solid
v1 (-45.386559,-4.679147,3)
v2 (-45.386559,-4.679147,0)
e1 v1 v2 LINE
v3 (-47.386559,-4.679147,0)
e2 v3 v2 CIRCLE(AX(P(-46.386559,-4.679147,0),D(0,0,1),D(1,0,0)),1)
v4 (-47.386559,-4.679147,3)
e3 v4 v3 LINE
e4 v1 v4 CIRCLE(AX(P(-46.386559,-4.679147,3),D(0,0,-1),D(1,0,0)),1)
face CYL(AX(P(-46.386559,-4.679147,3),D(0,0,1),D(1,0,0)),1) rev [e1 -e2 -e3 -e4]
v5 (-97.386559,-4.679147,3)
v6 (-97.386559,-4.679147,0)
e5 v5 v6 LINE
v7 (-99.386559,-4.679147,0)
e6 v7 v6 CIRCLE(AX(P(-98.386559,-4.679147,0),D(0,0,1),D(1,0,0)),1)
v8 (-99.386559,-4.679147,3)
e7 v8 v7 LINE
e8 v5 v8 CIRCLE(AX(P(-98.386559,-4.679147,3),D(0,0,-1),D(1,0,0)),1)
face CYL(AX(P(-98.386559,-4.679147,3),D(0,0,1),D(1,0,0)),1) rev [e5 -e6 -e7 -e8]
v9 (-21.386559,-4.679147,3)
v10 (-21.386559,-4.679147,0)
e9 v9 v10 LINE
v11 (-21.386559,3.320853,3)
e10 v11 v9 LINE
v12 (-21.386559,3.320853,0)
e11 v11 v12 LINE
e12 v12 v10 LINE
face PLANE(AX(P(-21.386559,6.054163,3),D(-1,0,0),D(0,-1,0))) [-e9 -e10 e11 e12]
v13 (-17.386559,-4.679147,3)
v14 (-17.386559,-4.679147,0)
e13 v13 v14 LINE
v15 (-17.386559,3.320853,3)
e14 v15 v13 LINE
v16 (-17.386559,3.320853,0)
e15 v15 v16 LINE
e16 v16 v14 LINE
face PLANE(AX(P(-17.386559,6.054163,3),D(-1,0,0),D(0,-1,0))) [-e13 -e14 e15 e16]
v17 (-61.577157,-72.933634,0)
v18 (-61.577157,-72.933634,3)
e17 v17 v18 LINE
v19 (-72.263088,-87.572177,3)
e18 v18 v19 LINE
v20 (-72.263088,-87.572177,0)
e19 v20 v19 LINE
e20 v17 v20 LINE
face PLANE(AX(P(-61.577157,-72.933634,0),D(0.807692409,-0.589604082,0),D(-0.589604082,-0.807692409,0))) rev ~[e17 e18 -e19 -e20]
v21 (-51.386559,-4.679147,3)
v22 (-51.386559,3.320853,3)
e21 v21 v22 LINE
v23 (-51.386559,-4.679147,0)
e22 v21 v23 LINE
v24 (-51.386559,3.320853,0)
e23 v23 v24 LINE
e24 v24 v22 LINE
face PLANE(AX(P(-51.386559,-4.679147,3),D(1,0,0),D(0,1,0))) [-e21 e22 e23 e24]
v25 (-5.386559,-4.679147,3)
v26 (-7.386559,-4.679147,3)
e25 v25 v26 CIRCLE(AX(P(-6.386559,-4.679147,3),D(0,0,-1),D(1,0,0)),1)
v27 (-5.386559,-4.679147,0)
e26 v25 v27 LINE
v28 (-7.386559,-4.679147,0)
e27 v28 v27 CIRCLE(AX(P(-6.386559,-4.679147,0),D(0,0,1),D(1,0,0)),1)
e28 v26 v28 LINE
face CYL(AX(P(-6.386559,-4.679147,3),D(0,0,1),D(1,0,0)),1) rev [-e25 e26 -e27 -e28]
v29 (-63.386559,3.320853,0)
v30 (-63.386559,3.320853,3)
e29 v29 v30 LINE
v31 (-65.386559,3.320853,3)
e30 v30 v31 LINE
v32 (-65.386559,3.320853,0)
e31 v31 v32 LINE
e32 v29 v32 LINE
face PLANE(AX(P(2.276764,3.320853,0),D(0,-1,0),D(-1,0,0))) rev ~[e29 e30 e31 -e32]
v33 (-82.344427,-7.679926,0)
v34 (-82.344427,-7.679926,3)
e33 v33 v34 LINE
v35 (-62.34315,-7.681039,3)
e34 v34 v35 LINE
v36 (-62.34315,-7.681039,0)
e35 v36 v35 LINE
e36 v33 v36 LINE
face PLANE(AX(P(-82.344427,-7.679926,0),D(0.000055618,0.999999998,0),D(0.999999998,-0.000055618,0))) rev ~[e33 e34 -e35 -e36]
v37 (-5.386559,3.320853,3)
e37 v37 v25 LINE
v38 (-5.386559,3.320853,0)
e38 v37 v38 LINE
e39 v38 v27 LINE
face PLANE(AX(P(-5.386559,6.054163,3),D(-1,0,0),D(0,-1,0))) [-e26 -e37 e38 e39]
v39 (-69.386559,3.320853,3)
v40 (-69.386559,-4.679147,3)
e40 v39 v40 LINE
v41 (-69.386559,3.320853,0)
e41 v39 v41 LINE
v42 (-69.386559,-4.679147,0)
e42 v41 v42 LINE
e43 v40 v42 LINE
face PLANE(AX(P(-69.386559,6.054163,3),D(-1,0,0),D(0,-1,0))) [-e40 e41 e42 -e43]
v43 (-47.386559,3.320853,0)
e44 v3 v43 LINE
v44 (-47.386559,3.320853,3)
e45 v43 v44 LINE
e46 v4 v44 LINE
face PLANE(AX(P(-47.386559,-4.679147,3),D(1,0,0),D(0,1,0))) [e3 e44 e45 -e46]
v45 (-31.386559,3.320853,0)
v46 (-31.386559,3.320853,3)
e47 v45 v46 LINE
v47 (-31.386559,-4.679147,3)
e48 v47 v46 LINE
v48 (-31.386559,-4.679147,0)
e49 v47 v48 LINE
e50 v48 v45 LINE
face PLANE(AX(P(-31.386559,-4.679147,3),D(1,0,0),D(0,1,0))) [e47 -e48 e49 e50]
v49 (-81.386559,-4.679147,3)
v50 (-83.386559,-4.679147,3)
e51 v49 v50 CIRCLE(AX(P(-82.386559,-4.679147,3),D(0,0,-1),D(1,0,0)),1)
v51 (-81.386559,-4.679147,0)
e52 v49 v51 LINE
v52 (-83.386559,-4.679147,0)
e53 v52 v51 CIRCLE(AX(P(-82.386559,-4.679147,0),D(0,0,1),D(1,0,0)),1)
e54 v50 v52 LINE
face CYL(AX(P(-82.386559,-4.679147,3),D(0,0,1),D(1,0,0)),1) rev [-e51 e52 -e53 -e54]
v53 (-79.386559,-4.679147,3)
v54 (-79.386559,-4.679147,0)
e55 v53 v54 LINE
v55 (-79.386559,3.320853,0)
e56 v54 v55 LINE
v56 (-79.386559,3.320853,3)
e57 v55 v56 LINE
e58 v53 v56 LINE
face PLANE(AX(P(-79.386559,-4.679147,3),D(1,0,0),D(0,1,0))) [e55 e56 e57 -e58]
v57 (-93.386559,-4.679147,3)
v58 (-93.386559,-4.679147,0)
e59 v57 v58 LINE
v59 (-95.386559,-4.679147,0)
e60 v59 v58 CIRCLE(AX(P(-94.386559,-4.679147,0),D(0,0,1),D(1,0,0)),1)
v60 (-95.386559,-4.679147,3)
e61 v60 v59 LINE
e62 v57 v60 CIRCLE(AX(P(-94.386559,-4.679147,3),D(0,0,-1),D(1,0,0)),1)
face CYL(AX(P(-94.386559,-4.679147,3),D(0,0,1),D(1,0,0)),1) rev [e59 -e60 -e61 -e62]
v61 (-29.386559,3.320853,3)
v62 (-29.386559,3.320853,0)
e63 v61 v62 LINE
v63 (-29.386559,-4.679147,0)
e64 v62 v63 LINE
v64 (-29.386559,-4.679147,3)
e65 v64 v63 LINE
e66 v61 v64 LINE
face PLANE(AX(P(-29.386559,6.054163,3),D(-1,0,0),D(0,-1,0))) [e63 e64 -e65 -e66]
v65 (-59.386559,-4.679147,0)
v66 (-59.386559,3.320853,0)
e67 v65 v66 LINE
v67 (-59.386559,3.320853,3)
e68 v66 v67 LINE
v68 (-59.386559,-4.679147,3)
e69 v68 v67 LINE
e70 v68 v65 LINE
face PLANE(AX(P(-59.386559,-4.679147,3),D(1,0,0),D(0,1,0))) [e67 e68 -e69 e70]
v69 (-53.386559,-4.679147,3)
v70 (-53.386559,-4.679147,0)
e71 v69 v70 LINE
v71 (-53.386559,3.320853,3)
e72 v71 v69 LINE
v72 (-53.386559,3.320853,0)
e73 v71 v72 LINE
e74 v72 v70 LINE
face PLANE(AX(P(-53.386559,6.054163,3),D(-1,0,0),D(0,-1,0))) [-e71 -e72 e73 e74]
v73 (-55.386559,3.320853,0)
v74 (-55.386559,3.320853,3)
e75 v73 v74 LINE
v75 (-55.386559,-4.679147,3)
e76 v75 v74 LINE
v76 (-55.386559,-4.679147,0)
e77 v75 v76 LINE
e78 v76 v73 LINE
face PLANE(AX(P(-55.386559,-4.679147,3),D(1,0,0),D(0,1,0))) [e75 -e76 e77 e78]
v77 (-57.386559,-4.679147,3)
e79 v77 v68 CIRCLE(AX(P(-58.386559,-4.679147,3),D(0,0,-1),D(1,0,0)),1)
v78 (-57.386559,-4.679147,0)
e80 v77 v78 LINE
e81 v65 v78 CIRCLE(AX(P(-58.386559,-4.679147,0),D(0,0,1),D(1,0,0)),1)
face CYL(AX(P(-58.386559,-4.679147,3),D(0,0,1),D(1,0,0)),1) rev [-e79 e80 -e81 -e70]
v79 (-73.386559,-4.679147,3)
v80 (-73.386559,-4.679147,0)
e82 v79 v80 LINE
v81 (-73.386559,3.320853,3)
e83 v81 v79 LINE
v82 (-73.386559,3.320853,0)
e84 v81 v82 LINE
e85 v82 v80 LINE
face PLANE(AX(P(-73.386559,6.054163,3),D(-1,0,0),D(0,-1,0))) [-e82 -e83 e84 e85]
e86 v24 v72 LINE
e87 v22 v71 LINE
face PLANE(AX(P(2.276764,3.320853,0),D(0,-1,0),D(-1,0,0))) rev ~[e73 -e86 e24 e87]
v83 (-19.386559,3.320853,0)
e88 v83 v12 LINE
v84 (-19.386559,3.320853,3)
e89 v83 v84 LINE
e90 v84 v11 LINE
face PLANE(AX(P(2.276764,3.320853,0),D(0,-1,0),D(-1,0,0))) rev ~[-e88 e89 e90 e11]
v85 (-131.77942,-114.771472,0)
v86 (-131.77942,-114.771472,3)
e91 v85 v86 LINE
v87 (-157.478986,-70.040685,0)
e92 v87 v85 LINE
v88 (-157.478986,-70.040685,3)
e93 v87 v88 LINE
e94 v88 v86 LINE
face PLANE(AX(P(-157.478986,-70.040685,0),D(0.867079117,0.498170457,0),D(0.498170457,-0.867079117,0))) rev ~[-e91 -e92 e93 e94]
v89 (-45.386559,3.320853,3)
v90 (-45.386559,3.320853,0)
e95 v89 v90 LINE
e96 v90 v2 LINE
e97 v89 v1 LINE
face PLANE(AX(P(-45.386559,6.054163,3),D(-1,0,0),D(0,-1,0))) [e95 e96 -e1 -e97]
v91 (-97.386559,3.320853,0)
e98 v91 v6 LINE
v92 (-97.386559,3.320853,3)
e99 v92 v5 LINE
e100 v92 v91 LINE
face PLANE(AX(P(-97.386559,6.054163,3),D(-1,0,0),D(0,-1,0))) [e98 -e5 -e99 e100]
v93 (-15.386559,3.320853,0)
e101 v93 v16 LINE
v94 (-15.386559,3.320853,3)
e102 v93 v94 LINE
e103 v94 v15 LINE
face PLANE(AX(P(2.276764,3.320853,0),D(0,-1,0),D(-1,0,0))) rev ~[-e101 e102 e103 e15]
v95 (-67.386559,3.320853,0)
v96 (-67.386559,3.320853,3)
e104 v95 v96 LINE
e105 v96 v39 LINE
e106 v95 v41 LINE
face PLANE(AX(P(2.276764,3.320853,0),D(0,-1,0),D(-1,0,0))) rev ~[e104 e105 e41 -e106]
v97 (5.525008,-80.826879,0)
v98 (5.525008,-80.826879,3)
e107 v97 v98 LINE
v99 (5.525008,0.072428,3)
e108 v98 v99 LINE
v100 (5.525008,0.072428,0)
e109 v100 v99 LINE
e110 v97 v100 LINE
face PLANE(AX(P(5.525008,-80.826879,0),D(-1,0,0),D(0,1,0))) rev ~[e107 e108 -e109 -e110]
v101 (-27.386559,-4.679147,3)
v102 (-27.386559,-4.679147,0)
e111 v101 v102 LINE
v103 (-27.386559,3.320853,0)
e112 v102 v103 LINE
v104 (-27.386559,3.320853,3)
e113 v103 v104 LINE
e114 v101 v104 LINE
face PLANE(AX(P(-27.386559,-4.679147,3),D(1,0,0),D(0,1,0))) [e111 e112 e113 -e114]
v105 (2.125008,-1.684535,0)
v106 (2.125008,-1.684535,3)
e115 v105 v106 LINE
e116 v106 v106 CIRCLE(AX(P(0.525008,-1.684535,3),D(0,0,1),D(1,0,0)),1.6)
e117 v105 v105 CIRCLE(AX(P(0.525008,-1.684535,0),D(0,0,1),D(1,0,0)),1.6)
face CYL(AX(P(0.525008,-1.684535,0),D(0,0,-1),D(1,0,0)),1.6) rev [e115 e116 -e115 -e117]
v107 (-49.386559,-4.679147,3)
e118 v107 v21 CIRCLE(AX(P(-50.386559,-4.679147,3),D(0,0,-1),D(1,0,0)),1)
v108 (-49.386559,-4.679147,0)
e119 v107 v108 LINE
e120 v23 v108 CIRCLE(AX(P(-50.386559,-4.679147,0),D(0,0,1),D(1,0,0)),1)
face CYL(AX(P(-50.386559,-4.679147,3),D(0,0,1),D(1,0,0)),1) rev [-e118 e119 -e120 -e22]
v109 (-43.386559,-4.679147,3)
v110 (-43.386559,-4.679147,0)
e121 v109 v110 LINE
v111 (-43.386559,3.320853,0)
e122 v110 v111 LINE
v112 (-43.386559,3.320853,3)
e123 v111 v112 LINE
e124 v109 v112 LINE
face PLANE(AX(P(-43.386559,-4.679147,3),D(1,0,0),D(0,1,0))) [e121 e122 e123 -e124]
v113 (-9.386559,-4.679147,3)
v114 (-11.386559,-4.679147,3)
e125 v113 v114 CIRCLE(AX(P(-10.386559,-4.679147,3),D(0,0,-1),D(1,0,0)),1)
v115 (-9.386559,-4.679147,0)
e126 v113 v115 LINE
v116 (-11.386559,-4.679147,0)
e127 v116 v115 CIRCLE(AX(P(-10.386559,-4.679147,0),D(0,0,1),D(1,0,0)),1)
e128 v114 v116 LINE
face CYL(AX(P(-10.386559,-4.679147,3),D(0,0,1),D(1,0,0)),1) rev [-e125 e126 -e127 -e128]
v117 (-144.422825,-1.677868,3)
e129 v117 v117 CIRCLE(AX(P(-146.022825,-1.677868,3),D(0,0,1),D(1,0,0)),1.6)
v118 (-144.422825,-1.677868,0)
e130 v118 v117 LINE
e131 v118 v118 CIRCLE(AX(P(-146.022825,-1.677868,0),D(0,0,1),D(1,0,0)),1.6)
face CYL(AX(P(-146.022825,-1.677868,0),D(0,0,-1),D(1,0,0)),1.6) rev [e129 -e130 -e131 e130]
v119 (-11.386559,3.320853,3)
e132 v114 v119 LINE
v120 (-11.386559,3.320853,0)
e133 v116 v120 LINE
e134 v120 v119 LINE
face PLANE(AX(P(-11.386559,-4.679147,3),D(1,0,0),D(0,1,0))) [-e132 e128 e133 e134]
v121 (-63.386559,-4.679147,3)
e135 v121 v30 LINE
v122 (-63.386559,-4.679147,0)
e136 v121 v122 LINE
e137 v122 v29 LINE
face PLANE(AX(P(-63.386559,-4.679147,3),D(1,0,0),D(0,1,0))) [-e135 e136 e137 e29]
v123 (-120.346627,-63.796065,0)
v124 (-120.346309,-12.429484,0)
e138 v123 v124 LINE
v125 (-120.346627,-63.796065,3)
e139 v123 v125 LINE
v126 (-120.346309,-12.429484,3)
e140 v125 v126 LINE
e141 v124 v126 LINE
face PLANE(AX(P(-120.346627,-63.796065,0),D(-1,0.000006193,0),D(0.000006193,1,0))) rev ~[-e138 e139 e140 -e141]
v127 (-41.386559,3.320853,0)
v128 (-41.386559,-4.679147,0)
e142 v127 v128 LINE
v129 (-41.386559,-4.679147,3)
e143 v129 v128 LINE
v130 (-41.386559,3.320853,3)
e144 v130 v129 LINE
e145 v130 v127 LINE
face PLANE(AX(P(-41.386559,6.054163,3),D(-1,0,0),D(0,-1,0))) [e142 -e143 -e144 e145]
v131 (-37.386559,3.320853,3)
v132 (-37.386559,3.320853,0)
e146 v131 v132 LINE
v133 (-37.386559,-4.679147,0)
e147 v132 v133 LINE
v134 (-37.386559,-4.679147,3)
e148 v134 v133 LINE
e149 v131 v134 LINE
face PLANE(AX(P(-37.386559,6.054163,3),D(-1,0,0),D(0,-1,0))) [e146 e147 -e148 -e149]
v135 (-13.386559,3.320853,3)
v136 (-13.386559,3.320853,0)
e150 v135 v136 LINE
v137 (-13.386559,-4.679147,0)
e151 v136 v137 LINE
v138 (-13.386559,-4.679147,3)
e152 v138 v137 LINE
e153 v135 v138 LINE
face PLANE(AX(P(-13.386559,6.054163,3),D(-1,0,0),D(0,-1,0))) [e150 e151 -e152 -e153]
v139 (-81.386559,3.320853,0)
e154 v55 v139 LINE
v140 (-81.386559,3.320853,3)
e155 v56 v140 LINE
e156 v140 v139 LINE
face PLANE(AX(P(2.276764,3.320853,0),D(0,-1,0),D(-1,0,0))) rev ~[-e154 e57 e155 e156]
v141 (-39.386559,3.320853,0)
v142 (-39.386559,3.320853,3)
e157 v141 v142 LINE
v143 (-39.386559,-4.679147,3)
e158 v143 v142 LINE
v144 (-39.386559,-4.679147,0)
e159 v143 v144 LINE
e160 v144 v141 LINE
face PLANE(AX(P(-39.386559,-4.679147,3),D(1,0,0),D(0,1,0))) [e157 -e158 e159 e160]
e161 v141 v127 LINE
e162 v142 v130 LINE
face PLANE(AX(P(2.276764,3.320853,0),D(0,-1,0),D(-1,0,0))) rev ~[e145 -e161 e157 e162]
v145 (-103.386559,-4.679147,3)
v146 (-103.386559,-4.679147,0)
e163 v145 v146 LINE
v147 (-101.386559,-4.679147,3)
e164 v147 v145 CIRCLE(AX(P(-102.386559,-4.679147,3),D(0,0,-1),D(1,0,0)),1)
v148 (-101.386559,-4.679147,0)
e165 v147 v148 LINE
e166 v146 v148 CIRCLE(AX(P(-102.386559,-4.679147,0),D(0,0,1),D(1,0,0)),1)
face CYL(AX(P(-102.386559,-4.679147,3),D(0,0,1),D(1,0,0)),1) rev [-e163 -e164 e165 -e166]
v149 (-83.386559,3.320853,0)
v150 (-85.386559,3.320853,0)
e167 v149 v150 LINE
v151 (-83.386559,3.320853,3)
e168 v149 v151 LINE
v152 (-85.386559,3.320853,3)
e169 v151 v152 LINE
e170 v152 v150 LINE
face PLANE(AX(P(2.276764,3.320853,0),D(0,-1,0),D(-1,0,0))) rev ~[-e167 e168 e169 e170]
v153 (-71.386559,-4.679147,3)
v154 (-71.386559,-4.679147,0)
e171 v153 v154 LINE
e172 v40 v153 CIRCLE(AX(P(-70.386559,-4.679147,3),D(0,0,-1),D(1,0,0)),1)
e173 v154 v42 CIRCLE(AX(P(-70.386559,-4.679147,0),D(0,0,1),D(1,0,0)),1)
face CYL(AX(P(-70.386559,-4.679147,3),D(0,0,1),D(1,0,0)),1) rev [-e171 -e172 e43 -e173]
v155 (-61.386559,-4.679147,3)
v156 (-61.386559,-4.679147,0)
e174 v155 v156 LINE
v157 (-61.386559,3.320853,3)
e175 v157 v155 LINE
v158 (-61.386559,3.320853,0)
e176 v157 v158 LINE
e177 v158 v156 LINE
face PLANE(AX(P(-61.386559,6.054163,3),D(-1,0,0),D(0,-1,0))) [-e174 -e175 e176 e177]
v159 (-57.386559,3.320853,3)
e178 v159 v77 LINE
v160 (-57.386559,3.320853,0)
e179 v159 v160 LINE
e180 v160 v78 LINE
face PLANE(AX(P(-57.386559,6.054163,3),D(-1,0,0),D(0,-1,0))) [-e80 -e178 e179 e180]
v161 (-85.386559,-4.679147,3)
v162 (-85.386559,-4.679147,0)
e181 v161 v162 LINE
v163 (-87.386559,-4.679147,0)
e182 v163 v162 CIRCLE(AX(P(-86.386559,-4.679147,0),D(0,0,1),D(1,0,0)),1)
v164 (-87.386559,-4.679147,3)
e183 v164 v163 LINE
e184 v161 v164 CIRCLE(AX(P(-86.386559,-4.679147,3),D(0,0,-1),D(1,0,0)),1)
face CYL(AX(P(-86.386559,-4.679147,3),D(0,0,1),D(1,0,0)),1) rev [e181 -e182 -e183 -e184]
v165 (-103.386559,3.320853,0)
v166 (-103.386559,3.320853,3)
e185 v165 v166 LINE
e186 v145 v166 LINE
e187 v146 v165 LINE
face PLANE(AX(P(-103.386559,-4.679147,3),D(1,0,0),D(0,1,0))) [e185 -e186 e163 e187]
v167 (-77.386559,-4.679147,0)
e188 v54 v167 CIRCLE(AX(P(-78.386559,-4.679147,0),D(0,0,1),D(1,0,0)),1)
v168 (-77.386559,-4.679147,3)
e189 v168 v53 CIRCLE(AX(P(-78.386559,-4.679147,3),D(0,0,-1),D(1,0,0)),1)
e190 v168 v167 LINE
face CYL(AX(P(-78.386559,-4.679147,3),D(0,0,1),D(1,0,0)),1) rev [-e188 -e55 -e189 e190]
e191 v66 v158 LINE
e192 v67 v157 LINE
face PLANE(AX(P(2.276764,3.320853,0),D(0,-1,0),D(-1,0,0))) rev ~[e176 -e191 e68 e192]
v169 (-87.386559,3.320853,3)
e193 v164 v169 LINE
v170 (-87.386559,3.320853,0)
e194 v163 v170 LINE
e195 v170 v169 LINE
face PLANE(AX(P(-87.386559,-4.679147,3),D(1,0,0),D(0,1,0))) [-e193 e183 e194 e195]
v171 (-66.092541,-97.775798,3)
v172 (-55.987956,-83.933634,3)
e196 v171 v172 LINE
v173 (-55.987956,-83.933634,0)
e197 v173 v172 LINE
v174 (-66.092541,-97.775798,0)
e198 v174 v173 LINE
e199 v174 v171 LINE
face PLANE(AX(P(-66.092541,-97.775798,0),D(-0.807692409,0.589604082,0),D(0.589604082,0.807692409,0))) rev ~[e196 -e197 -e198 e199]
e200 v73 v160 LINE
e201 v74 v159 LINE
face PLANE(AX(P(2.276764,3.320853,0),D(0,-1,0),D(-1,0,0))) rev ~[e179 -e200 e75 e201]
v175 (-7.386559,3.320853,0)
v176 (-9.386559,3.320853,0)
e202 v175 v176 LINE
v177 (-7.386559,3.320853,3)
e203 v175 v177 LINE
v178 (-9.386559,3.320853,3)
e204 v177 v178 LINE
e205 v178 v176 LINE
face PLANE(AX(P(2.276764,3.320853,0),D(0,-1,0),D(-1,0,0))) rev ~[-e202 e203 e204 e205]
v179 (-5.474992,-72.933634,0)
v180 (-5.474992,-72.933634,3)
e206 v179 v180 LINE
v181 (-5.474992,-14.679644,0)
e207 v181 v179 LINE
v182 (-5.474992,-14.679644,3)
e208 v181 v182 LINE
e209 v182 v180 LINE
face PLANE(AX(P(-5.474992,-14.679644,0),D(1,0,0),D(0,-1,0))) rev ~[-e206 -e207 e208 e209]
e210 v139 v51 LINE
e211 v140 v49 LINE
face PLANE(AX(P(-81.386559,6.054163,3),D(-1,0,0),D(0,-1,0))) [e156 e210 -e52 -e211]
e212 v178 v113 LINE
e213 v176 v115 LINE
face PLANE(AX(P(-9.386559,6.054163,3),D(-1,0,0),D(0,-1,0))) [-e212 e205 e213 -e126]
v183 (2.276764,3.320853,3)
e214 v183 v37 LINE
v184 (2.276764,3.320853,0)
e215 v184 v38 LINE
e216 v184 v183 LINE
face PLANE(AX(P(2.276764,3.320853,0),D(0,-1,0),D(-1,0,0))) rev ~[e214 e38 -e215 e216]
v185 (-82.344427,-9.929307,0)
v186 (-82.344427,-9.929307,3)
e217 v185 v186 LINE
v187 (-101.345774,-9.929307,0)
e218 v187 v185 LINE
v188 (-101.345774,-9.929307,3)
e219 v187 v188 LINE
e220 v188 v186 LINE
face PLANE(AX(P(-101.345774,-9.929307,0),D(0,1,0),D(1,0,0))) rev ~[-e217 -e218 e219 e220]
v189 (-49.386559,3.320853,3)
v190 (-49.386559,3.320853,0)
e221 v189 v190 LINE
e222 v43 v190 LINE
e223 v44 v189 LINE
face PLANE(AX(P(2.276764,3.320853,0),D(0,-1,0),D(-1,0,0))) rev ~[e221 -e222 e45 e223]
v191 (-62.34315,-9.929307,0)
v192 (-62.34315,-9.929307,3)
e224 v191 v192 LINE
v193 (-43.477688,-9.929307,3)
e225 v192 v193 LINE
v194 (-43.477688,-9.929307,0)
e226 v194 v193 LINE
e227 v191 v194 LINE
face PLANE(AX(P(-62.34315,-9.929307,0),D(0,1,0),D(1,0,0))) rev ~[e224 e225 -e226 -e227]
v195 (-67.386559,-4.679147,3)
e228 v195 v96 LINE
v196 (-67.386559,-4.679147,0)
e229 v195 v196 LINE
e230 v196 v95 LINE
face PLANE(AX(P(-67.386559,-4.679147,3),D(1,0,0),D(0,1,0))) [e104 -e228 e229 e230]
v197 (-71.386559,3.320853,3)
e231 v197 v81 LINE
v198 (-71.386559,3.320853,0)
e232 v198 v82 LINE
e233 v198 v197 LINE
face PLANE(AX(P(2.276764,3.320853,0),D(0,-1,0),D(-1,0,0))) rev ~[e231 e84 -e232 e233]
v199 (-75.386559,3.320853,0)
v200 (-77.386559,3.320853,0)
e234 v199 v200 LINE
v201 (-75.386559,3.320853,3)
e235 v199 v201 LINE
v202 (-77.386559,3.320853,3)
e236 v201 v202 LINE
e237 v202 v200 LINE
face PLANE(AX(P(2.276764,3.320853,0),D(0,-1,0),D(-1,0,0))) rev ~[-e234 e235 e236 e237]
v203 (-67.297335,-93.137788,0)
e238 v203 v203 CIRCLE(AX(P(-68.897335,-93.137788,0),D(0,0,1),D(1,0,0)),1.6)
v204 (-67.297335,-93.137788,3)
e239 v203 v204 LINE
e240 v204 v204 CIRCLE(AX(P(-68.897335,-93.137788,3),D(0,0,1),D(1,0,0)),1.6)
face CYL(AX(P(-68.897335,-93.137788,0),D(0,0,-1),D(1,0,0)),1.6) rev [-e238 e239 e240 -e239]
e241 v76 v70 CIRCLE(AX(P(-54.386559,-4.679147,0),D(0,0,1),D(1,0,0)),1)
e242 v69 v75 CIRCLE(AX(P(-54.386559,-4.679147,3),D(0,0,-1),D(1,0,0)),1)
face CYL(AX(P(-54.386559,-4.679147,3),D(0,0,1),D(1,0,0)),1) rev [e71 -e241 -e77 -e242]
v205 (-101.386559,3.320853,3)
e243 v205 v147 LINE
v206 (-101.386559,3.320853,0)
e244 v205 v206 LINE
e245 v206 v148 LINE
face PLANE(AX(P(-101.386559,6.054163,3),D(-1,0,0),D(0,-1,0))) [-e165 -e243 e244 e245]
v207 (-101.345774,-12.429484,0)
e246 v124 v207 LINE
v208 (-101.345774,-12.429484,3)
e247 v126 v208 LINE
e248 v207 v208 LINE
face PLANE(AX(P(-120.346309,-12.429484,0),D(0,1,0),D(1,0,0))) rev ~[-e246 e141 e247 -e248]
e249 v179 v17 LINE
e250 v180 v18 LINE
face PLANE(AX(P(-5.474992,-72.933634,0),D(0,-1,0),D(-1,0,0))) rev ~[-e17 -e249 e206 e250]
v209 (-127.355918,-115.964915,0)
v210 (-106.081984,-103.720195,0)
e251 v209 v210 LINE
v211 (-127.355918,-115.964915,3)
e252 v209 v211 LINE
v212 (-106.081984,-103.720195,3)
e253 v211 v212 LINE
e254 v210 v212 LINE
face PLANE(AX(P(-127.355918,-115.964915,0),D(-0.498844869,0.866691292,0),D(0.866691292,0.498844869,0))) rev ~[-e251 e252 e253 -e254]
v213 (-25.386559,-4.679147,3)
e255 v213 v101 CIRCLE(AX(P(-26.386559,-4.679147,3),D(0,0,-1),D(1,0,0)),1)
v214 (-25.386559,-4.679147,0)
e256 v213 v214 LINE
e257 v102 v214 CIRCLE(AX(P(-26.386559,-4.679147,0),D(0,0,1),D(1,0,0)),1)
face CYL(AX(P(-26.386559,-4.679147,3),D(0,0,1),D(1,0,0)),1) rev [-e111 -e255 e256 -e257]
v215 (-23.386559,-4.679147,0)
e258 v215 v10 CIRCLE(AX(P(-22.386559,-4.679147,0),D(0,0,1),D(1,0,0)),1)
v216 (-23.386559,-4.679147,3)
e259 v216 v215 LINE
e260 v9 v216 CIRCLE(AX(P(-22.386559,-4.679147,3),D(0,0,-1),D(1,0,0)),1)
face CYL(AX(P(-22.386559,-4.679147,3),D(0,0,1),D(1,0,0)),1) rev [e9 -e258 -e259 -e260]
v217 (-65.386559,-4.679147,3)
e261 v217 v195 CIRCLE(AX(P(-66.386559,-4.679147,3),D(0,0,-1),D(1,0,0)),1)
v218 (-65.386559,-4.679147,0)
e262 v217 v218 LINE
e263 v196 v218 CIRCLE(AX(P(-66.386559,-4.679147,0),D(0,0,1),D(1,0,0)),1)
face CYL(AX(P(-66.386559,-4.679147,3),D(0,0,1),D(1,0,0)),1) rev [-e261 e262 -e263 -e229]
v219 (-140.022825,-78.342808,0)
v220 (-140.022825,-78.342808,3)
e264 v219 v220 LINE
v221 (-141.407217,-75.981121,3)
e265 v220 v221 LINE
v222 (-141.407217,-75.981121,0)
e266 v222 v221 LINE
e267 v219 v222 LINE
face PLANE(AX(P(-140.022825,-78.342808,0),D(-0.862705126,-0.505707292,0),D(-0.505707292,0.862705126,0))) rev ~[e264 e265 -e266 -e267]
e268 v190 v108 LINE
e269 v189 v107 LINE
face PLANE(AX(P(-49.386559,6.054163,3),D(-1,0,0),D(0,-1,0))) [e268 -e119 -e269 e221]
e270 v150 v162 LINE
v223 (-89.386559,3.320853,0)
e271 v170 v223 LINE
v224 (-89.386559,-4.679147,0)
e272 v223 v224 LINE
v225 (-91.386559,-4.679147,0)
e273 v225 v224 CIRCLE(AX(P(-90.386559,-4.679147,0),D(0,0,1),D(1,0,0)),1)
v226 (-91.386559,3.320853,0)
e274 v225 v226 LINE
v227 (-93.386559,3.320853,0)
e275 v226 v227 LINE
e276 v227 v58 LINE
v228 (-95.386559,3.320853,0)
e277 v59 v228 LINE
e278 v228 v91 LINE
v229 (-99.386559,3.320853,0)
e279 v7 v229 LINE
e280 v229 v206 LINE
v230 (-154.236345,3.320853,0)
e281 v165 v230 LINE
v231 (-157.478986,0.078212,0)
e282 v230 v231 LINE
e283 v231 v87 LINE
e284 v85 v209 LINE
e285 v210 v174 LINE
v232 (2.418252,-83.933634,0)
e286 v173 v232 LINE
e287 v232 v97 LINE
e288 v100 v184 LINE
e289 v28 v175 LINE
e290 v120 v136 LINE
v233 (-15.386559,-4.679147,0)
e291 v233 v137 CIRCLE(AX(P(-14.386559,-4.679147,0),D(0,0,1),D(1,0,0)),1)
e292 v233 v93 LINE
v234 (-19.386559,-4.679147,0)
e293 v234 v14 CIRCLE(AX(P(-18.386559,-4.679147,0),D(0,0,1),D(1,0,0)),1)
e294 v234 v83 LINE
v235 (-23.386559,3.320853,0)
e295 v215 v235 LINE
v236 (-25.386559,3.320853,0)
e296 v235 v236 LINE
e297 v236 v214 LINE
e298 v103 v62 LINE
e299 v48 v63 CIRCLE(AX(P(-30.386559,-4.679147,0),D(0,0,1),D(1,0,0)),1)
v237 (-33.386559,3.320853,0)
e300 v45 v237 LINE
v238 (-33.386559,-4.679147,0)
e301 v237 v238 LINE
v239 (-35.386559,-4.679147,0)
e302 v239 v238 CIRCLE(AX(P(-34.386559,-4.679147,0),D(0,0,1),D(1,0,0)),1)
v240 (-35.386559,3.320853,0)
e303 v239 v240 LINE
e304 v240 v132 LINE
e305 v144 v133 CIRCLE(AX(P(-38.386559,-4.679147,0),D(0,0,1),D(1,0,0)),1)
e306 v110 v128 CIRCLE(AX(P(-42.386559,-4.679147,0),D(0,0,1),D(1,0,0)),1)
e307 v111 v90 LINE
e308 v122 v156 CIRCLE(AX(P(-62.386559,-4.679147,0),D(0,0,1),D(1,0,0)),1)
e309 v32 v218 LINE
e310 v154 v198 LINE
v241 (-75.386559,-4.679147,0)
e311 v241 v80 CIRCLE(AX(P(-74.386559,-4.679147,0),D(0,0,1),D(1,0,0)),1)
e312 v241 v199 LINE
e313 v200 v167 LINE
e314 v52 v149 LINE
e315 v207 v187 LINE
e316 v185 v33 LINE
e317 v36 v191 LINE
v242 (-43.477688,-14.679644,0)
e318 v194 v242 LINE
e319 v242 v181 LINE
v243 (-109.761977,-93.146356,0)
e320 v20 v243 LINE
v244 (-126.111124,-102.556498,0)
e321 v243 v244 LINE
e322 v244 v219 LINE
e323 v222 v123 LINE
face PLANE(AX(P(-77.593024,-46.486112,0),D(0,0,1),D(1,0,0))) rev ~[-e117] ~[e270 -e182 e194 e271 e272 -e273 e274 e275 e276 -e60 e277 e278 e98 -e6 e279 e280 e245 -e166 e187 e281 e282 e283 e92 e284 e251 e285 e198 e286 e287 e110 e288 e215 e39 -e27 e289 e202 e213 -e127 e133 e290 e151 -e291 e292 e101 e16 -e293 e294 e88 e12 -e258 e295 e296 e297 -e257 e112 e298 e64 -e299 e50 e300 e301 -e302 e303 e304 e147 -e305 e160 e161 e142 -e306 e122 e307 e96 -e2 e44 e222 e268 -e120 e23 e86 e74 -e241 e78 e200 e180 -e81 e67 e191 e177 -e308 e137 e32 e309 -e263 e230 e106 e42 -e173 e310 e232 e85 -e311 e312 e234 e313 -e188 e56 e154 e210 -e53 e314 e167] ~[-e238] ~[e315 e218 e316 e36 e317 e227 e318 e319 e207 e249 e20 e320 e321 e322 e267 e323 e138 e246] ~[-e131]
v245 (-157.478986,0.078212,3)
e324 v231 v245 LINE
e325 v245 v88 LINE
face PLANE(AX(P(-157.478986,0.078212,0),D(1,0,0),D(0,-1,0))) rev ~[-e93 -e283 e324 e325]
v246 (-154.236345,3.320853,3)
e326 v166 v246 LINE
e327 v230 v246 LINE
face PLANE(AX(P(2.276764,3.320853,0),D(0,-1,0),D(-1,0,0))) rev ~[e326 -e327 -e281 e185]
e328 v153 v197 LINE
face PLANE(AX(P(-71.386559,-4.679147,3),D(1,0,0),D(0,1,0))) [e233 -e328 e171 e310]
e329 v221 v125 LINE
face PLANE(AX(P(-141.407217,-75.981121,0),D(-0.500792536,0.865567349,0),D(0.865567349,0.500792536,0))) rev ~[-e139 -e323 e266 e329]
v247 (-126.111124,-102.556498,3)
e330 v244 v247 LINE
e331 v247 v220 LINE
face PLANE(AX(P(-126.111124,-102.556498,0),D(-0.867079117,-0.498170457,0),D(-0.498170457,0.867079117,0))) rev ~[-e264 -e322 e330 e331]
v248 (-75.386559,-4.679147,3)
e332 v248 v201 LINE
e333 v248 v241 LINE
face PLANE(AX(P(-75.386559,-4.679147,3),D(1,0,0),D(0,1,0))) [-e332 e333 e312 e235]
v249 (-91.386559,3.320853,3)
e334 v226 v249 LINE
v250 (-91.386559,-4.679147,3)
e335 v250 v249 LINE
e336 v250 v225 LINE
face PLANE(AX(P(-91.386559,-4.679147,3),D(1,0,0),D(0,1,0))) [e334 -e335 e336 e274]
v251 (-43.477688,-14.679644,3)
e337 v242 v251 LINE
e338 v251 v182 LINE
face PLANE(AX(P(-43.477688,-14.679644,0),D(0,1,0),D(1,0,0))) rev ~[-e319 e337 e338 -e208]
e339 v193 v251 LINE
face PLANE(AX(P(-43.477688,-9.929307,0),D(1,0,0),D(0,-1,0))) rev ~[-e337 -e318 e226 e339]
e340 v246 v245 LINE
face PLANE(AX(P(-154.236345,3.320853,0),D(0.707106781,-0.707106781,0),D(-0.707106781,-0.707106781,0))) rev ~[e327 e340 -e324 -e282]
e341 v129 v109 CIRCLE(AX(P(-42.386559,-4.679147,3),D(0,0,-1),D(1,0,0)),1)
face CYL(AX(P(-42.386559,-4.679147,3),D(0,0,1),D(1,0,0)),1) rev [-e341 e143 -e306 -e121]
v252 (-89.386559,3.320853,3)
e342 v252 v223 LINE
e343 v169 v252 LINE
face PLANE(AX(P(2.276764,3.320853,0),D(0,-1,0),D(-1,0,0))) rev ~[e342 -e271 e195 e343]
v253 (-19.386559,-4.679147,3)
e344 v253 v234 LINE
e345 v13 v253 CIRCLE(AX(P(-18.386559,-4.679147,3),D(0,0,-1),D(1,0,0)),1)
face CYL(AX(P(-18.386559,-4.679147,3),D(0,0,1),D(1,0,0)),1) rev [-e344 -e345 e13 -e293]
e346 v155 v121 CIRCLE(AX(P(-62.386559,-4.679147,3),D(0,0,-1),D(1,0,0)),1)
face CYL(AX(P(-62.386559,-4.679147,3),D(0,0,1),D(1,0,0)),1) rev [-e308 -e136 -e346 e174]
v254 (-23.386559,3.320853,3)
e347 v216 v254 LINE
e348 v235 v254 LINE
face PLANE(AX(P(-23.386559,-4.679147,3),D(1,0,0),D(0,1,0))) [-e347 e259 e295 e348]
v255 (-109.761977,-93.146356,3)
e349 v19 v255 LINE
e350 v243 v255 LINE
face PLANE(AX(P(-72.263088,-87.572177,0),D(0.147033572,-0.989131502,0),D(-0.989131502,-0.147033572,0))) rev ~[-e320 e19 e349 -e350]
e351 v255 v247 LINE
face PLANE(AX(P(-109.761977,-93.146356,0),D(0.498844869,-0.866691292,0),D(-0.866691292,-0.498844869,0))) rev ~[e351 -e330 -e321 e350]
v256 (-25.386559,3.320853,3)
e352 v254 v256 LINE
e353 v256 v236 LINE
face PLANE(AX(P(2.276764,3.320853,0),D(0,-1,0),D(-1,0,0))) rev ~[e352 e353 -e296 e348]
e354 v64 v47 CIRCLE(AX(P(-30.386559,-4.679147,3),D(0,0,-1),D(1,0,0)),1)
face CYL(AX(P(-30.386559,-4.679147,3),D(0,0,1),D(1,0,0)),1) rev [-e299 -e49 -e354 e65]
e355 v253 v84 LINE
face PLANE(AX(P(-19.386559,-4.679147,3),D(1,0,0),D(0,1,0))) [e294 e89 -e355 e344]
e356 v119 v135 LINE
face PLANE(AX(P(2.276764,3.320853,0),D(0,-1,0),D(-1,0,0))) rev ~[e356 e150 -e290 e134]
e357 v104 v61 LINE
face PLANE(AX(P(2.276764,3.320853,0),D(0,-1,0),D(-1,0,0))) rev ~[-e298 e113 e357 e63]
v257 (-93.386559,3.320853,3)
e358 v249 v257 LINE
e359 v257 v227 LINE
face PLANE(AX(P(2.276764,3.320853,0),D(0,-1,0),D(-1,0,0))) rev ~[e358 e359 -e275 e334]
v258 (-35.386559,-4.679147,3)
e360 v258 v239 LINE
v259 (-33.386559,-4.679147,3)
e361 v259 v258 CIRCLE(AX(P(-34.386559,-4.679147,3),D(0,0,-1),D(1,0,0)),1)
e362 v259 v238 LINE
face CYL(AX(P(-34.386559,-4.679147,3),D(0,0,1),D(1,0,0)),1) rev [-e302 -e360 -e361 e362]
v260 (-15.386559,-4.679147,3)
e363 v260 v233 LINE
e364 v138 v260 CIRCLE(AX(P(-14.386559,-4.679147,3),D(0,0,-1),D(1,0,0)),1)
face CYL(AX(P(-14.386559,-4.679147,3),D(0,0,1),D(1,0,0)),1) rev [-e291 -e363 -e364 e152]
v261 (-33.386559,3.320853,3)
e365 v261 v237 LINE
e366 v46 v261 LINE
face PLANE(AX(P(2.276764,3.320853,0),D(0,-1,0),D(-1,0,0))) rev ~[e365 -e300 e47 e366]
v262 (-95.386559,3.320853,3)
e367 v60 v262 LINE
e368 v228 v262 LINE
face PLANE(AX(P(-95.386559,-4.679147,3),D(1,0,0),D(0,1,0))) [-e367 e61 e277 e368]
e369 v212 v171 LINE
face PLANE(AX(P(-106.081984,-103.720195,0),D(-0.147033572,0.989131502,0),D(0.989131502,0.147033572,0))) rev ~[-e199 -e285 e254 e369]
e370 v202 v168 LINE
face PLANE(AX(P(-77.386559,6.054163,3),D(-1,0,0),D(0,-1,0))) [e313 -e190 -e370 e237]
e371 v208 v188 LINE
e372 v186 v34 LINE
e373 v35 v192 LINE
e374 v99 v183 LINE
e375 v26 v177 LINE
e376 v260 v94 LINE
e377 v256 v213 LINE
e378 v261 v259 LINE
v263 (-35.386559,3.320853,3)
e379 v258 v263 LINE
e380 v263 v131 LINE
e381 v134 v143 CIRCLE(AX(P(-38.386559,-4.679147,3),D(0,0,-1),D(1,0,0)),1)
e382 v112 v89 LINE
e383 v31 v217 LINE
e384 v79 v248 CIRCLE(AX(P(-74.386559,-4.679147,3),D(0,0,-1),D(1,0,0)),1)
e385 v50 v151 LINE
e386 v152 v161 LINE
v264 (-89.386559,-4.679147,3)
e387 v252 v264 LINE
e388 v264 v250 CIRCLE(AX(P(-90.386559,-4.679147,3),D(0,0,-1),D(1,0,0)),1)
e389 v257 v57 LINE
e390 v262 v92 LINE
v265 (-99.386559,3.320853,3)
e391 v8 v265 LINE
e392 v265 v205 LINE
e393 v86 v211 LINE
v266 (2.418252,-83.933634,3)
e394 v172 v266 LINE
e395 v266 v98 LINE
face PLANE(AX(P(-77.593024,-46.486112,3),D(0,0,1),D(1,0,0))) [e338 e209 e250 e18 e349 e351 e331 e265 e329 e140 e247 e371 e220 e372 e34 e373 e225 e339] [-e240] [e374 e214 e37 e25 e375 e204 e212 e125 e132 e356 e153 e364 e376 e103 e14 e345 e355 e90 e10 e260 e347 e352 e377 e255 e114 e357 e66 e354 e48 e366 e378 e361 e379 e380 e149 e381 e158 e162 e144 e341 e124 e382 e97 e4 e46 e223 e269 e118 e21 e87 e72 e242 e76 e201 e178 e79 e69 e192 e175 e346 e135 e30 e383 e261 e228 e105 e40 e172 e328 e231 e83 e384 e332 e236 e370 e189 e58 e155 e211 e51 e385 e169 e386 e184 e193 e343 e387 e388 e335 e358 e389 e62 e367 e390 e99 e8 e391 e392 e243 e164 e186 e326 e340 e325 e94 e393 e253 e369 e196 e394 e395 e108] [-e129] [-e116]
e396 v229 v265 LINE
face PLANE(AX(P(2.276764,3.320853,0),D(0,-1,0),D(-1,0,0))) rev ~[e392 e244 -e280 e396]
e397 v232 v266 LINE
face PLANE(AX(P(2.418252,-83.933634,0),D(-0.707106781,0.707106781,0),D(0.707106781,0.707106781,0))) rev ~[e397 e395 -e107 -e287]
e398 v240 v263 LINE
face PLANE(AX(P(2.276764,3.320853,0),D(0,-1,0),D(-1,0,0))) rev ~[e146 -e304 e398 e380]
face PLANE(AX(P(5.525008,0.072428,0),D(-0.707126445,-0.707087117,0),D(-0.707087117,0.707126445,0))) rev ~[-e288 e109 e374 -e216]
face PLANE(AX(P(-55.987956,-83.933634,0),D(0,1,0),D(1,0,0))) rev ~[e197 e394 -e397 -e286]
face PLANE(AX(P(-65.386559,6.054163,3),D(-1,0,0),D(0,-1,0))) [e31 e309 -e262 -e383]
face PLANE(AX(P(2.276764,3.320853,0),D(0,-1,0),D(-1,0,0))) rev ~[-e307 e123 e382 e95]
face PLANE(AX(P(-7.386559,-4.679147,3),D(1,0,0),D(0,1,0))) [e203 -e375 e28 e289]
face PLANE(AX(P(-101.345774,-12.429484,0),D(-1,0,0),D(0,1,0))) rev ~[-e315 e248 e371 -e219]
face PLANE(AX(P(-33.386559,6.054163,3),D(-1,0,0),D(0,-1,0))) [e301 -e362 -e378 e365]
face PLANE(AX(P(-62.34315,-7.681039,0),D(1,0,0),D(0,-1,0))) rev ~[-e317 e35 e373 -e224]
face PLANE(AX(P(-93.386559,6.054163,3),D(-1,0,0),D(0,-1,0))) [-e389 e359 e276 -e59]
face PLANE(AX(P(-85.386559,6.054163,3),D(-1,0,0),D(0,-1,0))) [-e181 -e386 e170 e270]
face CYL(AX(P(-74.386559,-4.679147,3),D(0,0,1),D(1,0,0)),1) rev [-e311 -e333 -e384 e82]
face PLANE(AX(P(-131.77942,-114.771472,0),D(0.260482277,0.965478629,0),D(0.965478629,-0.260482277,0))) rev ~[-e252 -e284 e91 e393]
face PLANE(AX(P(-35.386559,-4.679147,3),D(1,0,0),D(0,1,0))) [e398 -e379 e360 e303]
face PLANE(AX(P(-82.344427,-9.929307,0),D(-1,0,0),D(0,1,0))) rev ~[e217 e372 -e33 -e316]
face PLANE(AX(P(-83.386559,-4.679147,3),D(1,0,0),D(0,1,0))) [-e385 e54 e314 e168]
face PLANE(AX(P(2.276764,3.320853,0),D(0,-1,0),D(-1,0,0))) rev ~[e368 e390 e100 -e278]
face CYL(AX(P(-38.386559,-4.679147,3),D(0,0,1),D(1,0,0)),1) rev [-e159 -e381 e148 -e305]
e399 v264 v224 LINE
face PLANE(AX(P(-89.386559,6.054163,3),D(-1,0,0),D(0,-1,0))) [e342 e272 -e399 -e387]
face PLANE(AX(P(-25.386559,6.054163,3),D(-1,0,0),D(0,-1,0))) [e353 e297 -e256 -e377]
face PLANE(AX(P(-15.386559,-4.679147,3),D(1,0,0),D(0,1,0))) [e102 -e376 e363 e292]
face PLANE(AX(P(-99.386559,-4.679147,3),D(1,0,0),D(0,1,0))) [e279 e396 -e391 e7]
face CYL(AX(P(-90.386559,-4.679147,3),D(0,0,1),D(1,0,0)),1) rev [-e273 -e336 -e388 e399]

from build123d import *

# Parameters (mm, degrees)
ESQUISSE1_R             = 1.6
BOSS_EXTRU_1_DEPTH      = 3
ENL_V_MAT_EXTRU_1_DEPTH = 10


with BuildPart() as part:
    # Esquisse1 → Boss.-Extru.1 (new body)
    with BuildSketch(Plane.XY):
        Polygon((5.525007543, 0.072428093), (2.276763789, 3.320852512), (-154.236345188, 3.320852512), (-157.478985875, 0.078211825), (-157.478985875, -70.04068474), (-131.779420125, -114.771472067), (-127.355917516, -115.9649154), (-106.081983802, -103.720194839), (-66.092540926, -97.775797545), (-55.98795635, -83.933633781), (2.418252352, -83.933633781), (5.525007543, -80.826878591), align=None)
        Polygon((-126.111124489, -102.556497988), (-140.02282508, -78.342807898), (-141.407217303, -75.981121034), (-120.346626934, -63.796065222), (-120.346308835, -12.429484403), (-101.345774335, -12.429484403), (-101.345774335, -9.929307079), (-82.344426674, -9.929307079), (-82.344426674, -7.679926158), (-62.343149943, -7.681038584), (-62.343149943, -9.929307079), (-43.477687779, -9.929307079), (-43.477687779, -14.679643994), (-5.474992457, -14.679643994), (-5.474992457, -72.933633781), (-61.577157206, -72.933633781), (-72.263087593, -87.572177036), (-109.761976756, -93.1463556), align=None, mode=Mode.SUBTRACT)
        with Locations((-68.897334865, -93.137788223)):
            Circle(ESQUISSE1_R, mode=Mode.SUBTRACT)
        with Locations((-146.02282508, -1.677868186)):
            Circle(ESQUISSE1_R, mode=Mode.SUBTRACT)
        with Locations((0.525007543, -1.68453516)):
            Circle(ESQUISSE1_R, mode=Mode.SUBTRACT)
    extrude(amount=BOSS_EXTRU_1_DEPTH)

    # Esquisse2 → Enlèv. mat.-Extru.1 (cut)
    with BuildSketch(Plane.XY.offset(3)):
        with BuildLine():
            Line((-5.386559375, 6.054162745), (-5.386559375, -4.679147488))
            ThreePointArc((-5.386559375, -4.679147488), (-6.386559375, -5.679147488), (-7.386559375, -4.679147488))
            Line((-7.386559375, -4.679147488), (-7.386559375, 6.054162745))
            ThreePointArc((-7.386559375, 6.054162745), (-6.386559375, 7.054162745), (-5.386559375, 6.054162745))
        make_face()
        with BuildLine():
            Line((-9.386559375, 6.054162745), (-9.386559375, -4.679147488))
            ThreePointArc((-9.386559375, -4.679147488), (-10.386559375, -5.679147488), (-11.386559375, -4.679147488))
            Line((-11.386559375, -4.679147488), (-11.386559375, 6.054162745))
            ThreePointArc((-11.386559375, 6.054162745), (-10.386559375, 7.054162745), (-9.386559375, 6.054162745))
        make_face()
        with BuildLine():
            Line((-13.386559375, 6.054162745), (-13.386559375, -4.679147488))
            ThreePointArc((-13.386559375, -4.679147488), (-14.386559375, -5.679147488), (-15.386559375, -4.679147488))
            Line((-15.386559375, -4.679147488), (-15.386559375, 6.054162745))
            ThreePointArc((-15.386559375, 6.054162745), (-14.386559375, 7.054162745), (-13.386559375, 6.054162745))
        make_face()
        with BuildLine():
            Line((-17.386559375, 6.054162745), (-17.386559375, -4.679147488))
            ThreePointArc((-17.386559375, -4.679147488), (-18.386559375, -5.679147488), (-19.386559375, -4.679147488))
            Line((-19.386559375, -4.679147488), (-19.386559375, 6.054162745))
            ThreePointArc((-19.386559375, 6.054162745), (-18.386559375, 7.054162745), (-17.386559375, 6.054162745))
        make_face()
        with BuildLine():
            Line((-21.386559375, 6.054162745), (-21.386559375, -4.679147488))
            ThreePointArc((-21.386559375, -4.679147488), (-22.386559375, -5.679147488), (-23.386559375, -4.679147488))
            Line((-23.386559375, -4.679147488), (-23.386559375, 6.054162745))
            ThreePointArc((-23.386559375, 6.054162745), (-22.386559375, 7.054162745), (-21.386559375, 6.054162745))
        make_face()
        with BuildLine():
            Line((-25.386559375, 6.054162745), (-25.386559375, -4.679147488))
            ThreePointArc((-25.386559375, -4.679147488), (-26.386559375, -5.679147488), (-27.386559375, -4.679147488))
            Line((-27.386559375, -4.679147488), (-27.386559375, 6.054162745))
            ThreePointArc((-27.386559375, 6.054162745), (-26.386559375, 7.054162745), (-25.386559375, 6.054162745))
        make_face()
        with BuildLine():
            Line((-29.386559375, 6.054162745), (-29.386559375, -4.679147488))
            ThreePointArc((-29.386559375, -4.679147488), (-30.386559375, -5.679147488), (-31.386559375, -4.679147488))
            Line((-31.386559375, -4.679147488), (-31.386559375, 6.054162745))
            ThreePointArc((-31.386559375, 6.054162745), (-30.386559375, 7.054162745), (-29.386559375, 6.054162745))
        make_face()
        with BuildLine():
            Line((-33.386559375, 6.054162745), (-33.386559375, -4.679147488))
            ThreePointArc((-33.386559375, -4.679147488), (-34.386559375, -5.679147488), (-35.386559375, -4.679147488))
            Line((-35.386559375, -4.679147488), (-35.386559375, 6.054162745))
            ThreePointArc((-35.386559375, 6.054162745), (-34.386559375, 7.054162745), (-33.386559375, 6.054162745))
        make_face()
        with BuildLine():
            Line((-37.386559375, 6.054162745), (-37.386559375, -4.679147488))
            ThreePointArc((-37.386559375, -4.679147488), (-38.386559375, -5.679147488), (-39.386559375, -4.679147488))
            Line((-39.386559375, -4.679147488), (-39.386559375, 6.054162745))
            ThreePointArc((-39.386559375, 6.054162745), (-38.386559375, 7.054162745), (-37.386559375, 6.054162745))
        make_face()
        with BuildLine():
            Line((-41.386559375, 6.054162745), (-41.386559375, -4.679147488))
            ThreePointArc((-41.386559375, -4.679147488), (-42.386559375, -5.679147488), (-43.386559375, -4.679147488))
            Line((-43.386559375, -4.679147488), (-43.386559375, 6.054162745))
            ThreePointArc((-43.386559375, 6.054162745), (-42.386559375, 7.054162745), (-41.386559375, 6.054162745))
        make_face()
        with BuildLine():
            Line((-45.386559375, 6.054162745), (-45.386559375, -4.679147488))
            ThreePointArc((-45.386559375, -4.679147488), (-46.386559375, -5.679147488), (-47.386559375, -4.679147488))
            Line((-47.386559375, -4.679147488), (-47.386559375, 6.054162745))
            ThreePointArc((-47.386559375, 6.054162745), (-46.386559375, 7.054162745), (-45.386559375, 6.054162745))
        make_face()
        with BuildLine():
            Line((-49.386559375, 6.054162745), (-49.386559375, -4.679147488))
            ThreePointArc((-49.386559375, -4.679147488), (-50.386559375, -5.679147488), (-51.386559375, -4.679147488))
            Line((-51.386559375, -4.679147488), (-51.386559375, 6.054162745))
            ThreePointArc((-51.386559375, 6.054162745), (-50.386559375, 7.054162745), (-49.386559375, 6.054162745))
        make_face()
        with BuildLine():
            Line((-53.386559375, 6.054162745), (-53.386559375, -4.679147488))
            ThreePointArc((-53.386559375, -4.679147488), (-54.386559375, -5.679147488), (-55.386559375, -4.679147488))
            Line((-55.386559375, -4.679147488), (-55.386559375, 6.054162745))
            ThreePointArc((-55.386559375, 6.054162745), (-54.386559375, 7.054162745), (-53.386559375, 6.054162745))
        make_face()
        with BuildLine():
            Line((-57.386559375, 6.054162745), (-57.386559375, -4.679147488))
            ThreePointArc((-57.386559375, -4.679147488), (-58.386559375, -5.679147488), (-59.386559375, -4.679147488))
            Line((-59.386559375, -4.679147488), (-59.386559375, 6.054162745))
            ThreePointArc((-59.386559375, 6.054162745), (-58.386559375, 7.054162745), (-57.386559375, 6.054162745))
        make_face()
        with BuildLine():
            Line((-61.386559375, 6.054162745), (-61.386559375, -4.679147488))
            ThreePointArc((-61.386559375, -4.679147488), (-62.386559375, -5.679147488), (-63.386559375, -4.679147488))
            Line((-63.386559375, -4.679147488), (-63.386559375, 6.054162745))
            ThreePointArc((-63.386559375, 6.054162745), (-62.386559375, 7.054162745), (-61.386559375, 6.054162745))
        make_face()
        with BuildLine():
            Line((-65.386559375, 6.054162745), (-65.386559375, -4.679147488))
            ThreePointArc((-65.386559375, -4.679147488), (-66.386559375, -5.679147488), (-67.386559375, -4.679147488))
            Line((-67.386559375, -4.679147488), (-67.386559375, 6.054162745))
            ThreePointArc((-67.386559375, 6.054162745), (-66.386559375, 7.054162745), (-65.386559375, 6.054162745))
        make_face()
        with BuildLine():
            Line((-69.386559375, 6.054162745), (-69.386559375, -4.679147488))
            ThreePointArc((-69.386559375, -4.679147488), (-70.386559375, -5.679147488), (-71.386559375, -4.679147488))
            Line((-71.386559375, -4.679147488), (-71.386559375, 6.054162745))
            ThreePointArc((-71.386559375, 6.054162745), (-70.386559375, 7.054162745), (-69.386559375, 6.054162745))
        make_face()
        with BuildLine():
            Line((-73.386559375, 6.054162745), (-73.386559375, -4.679147488))
            ThreePointArc((-73.386559375, -4.679147488), (-74.386559375, -5.679147488), (-75.386559375, -4.679147488))
            Line((-75.386559375, -4.679147488), (-75.386559375, 6.054162745))
            ThreePointArc((-75.386559375, 6.054162745), (-74.386559375, 7.054162745), (-73.386559375, 6.054162745))
        make_face()
        with BuildLine():
            Line((-77.386559375, 6.054162745), (-77.386559375, -4.679147488))
            ThreePointArc((-77.386559375, -4.679147488), (-78.386559375, -5.679147488), (-79.386559375, -4.679147488))
            Line((-79.386559375, -4.679147488), (-79.386559375, 6.054162745))
            ThreePointArc((-79.386559375, 6.054162745), (-78.386559375, 7.054162745), (-77.386559375, 6.054162745))
        make_face()
        with BuildLine():
            Line((-81.386559375, 6.054162745), (-81.386559375, -4.679147488))
            ThreePointArc((-81.386559375, -4.679147488), (-82.386559375, -5.679147488), (-83.386559375, -4.679147488))
            Line((-83.386559375, -4.679147488), (-83.386559375, 6.054162745))
            ThreePointArc((-83.386559375, 6.054162745), (-82.386559375, 7.054162745), (-81.386559375, 6.054162745))
        make_face()
        with BuildLine():
            Line((-85.386559375, 6.054162745), (-85.386559375, -4.679147488))
            ThreePointArc((-85.386559375, -4.679147488), (-86.386559375, -5.679147488), (-87.386559375, -4.679147488))
            Line((-87.386559375, -4.679147488), (-87.386559375, 6.054162745))
            ThreePointArc((-87.386559375, 6.054162745), (-86.386559375, 7.054162745), (-85.386559375, 6.054162745))
        make_face()
        with BuildLine():
            Line((-89.386559375, 6.054162745), (-89.386559375, -4.679147488))
            ThreePointArc((-89.386559375, -4.679147488), (-90.386559375, -5.679147488), (-91.386559375, -4.679147488))
            Line((-91.386559375, -4.679147488), (-91.386559375, 6.054162745))
            ThreePointArc((-91.386559375, 6.054162745), (-90.386559375, 7.054162745), (-89.386559375, 6.054162745))
        make_face()
        with BuildLine():
            Line((-93.386559375, 6.054162745), (-93.386559375, -4.679147488))
            ThreePointArc((-93.386559375, -4.679147488), (-94.386559375, -5.679147488), (-95.386559375, -4.679147488))
            Line((-95.386559375, -4.679147488), (-95.386559375, 6.054162745))
            ThreePointArc((-95.386559375, 6.054162745), (-94.386559375, 7.054162745), (-93.386559375, 6.054162745))
        make_face()
        with BuildLine():
            Line((-97.386559375, 6.054162745), (-97.386559375, -4.679147488))
            ThreePointArc((-97.386559375, -4.679147488), (-98.386559375, -5.679147488), (-99.386559375, -4.679147488))
            Line((-99.386559375, -4.679147488), (-99.386559375, 6.054162745))
            ThreePointArc((-99.386559375, 6.054162745), (-98.386559375, 7.054162745), (-97.386559375, 6.054162745))
        make_face()
        with BuildLine():
            Line((-101.386559375, 6.054162745), (-101.386559375, -4.679147488))
            ThreePointArc((-101.386559375, -4.679147488), (-102.386559375, -5.679147488), (-103.386559375, -4.679147488))
            Line((-103.386559375, -4.679147488), (-103.386559375, 6.054162745))
            ThreePointArc((-103.386559375, 6.054162745), (-102.386559375, 7.054162745), (-101.386559375, 6.054162745))
        make_face()
    extrude(amount=-ENL_V_MAT_EXTRU_1_DEPTH, mode=Mode.SUBTRACT)


solid = part.part
